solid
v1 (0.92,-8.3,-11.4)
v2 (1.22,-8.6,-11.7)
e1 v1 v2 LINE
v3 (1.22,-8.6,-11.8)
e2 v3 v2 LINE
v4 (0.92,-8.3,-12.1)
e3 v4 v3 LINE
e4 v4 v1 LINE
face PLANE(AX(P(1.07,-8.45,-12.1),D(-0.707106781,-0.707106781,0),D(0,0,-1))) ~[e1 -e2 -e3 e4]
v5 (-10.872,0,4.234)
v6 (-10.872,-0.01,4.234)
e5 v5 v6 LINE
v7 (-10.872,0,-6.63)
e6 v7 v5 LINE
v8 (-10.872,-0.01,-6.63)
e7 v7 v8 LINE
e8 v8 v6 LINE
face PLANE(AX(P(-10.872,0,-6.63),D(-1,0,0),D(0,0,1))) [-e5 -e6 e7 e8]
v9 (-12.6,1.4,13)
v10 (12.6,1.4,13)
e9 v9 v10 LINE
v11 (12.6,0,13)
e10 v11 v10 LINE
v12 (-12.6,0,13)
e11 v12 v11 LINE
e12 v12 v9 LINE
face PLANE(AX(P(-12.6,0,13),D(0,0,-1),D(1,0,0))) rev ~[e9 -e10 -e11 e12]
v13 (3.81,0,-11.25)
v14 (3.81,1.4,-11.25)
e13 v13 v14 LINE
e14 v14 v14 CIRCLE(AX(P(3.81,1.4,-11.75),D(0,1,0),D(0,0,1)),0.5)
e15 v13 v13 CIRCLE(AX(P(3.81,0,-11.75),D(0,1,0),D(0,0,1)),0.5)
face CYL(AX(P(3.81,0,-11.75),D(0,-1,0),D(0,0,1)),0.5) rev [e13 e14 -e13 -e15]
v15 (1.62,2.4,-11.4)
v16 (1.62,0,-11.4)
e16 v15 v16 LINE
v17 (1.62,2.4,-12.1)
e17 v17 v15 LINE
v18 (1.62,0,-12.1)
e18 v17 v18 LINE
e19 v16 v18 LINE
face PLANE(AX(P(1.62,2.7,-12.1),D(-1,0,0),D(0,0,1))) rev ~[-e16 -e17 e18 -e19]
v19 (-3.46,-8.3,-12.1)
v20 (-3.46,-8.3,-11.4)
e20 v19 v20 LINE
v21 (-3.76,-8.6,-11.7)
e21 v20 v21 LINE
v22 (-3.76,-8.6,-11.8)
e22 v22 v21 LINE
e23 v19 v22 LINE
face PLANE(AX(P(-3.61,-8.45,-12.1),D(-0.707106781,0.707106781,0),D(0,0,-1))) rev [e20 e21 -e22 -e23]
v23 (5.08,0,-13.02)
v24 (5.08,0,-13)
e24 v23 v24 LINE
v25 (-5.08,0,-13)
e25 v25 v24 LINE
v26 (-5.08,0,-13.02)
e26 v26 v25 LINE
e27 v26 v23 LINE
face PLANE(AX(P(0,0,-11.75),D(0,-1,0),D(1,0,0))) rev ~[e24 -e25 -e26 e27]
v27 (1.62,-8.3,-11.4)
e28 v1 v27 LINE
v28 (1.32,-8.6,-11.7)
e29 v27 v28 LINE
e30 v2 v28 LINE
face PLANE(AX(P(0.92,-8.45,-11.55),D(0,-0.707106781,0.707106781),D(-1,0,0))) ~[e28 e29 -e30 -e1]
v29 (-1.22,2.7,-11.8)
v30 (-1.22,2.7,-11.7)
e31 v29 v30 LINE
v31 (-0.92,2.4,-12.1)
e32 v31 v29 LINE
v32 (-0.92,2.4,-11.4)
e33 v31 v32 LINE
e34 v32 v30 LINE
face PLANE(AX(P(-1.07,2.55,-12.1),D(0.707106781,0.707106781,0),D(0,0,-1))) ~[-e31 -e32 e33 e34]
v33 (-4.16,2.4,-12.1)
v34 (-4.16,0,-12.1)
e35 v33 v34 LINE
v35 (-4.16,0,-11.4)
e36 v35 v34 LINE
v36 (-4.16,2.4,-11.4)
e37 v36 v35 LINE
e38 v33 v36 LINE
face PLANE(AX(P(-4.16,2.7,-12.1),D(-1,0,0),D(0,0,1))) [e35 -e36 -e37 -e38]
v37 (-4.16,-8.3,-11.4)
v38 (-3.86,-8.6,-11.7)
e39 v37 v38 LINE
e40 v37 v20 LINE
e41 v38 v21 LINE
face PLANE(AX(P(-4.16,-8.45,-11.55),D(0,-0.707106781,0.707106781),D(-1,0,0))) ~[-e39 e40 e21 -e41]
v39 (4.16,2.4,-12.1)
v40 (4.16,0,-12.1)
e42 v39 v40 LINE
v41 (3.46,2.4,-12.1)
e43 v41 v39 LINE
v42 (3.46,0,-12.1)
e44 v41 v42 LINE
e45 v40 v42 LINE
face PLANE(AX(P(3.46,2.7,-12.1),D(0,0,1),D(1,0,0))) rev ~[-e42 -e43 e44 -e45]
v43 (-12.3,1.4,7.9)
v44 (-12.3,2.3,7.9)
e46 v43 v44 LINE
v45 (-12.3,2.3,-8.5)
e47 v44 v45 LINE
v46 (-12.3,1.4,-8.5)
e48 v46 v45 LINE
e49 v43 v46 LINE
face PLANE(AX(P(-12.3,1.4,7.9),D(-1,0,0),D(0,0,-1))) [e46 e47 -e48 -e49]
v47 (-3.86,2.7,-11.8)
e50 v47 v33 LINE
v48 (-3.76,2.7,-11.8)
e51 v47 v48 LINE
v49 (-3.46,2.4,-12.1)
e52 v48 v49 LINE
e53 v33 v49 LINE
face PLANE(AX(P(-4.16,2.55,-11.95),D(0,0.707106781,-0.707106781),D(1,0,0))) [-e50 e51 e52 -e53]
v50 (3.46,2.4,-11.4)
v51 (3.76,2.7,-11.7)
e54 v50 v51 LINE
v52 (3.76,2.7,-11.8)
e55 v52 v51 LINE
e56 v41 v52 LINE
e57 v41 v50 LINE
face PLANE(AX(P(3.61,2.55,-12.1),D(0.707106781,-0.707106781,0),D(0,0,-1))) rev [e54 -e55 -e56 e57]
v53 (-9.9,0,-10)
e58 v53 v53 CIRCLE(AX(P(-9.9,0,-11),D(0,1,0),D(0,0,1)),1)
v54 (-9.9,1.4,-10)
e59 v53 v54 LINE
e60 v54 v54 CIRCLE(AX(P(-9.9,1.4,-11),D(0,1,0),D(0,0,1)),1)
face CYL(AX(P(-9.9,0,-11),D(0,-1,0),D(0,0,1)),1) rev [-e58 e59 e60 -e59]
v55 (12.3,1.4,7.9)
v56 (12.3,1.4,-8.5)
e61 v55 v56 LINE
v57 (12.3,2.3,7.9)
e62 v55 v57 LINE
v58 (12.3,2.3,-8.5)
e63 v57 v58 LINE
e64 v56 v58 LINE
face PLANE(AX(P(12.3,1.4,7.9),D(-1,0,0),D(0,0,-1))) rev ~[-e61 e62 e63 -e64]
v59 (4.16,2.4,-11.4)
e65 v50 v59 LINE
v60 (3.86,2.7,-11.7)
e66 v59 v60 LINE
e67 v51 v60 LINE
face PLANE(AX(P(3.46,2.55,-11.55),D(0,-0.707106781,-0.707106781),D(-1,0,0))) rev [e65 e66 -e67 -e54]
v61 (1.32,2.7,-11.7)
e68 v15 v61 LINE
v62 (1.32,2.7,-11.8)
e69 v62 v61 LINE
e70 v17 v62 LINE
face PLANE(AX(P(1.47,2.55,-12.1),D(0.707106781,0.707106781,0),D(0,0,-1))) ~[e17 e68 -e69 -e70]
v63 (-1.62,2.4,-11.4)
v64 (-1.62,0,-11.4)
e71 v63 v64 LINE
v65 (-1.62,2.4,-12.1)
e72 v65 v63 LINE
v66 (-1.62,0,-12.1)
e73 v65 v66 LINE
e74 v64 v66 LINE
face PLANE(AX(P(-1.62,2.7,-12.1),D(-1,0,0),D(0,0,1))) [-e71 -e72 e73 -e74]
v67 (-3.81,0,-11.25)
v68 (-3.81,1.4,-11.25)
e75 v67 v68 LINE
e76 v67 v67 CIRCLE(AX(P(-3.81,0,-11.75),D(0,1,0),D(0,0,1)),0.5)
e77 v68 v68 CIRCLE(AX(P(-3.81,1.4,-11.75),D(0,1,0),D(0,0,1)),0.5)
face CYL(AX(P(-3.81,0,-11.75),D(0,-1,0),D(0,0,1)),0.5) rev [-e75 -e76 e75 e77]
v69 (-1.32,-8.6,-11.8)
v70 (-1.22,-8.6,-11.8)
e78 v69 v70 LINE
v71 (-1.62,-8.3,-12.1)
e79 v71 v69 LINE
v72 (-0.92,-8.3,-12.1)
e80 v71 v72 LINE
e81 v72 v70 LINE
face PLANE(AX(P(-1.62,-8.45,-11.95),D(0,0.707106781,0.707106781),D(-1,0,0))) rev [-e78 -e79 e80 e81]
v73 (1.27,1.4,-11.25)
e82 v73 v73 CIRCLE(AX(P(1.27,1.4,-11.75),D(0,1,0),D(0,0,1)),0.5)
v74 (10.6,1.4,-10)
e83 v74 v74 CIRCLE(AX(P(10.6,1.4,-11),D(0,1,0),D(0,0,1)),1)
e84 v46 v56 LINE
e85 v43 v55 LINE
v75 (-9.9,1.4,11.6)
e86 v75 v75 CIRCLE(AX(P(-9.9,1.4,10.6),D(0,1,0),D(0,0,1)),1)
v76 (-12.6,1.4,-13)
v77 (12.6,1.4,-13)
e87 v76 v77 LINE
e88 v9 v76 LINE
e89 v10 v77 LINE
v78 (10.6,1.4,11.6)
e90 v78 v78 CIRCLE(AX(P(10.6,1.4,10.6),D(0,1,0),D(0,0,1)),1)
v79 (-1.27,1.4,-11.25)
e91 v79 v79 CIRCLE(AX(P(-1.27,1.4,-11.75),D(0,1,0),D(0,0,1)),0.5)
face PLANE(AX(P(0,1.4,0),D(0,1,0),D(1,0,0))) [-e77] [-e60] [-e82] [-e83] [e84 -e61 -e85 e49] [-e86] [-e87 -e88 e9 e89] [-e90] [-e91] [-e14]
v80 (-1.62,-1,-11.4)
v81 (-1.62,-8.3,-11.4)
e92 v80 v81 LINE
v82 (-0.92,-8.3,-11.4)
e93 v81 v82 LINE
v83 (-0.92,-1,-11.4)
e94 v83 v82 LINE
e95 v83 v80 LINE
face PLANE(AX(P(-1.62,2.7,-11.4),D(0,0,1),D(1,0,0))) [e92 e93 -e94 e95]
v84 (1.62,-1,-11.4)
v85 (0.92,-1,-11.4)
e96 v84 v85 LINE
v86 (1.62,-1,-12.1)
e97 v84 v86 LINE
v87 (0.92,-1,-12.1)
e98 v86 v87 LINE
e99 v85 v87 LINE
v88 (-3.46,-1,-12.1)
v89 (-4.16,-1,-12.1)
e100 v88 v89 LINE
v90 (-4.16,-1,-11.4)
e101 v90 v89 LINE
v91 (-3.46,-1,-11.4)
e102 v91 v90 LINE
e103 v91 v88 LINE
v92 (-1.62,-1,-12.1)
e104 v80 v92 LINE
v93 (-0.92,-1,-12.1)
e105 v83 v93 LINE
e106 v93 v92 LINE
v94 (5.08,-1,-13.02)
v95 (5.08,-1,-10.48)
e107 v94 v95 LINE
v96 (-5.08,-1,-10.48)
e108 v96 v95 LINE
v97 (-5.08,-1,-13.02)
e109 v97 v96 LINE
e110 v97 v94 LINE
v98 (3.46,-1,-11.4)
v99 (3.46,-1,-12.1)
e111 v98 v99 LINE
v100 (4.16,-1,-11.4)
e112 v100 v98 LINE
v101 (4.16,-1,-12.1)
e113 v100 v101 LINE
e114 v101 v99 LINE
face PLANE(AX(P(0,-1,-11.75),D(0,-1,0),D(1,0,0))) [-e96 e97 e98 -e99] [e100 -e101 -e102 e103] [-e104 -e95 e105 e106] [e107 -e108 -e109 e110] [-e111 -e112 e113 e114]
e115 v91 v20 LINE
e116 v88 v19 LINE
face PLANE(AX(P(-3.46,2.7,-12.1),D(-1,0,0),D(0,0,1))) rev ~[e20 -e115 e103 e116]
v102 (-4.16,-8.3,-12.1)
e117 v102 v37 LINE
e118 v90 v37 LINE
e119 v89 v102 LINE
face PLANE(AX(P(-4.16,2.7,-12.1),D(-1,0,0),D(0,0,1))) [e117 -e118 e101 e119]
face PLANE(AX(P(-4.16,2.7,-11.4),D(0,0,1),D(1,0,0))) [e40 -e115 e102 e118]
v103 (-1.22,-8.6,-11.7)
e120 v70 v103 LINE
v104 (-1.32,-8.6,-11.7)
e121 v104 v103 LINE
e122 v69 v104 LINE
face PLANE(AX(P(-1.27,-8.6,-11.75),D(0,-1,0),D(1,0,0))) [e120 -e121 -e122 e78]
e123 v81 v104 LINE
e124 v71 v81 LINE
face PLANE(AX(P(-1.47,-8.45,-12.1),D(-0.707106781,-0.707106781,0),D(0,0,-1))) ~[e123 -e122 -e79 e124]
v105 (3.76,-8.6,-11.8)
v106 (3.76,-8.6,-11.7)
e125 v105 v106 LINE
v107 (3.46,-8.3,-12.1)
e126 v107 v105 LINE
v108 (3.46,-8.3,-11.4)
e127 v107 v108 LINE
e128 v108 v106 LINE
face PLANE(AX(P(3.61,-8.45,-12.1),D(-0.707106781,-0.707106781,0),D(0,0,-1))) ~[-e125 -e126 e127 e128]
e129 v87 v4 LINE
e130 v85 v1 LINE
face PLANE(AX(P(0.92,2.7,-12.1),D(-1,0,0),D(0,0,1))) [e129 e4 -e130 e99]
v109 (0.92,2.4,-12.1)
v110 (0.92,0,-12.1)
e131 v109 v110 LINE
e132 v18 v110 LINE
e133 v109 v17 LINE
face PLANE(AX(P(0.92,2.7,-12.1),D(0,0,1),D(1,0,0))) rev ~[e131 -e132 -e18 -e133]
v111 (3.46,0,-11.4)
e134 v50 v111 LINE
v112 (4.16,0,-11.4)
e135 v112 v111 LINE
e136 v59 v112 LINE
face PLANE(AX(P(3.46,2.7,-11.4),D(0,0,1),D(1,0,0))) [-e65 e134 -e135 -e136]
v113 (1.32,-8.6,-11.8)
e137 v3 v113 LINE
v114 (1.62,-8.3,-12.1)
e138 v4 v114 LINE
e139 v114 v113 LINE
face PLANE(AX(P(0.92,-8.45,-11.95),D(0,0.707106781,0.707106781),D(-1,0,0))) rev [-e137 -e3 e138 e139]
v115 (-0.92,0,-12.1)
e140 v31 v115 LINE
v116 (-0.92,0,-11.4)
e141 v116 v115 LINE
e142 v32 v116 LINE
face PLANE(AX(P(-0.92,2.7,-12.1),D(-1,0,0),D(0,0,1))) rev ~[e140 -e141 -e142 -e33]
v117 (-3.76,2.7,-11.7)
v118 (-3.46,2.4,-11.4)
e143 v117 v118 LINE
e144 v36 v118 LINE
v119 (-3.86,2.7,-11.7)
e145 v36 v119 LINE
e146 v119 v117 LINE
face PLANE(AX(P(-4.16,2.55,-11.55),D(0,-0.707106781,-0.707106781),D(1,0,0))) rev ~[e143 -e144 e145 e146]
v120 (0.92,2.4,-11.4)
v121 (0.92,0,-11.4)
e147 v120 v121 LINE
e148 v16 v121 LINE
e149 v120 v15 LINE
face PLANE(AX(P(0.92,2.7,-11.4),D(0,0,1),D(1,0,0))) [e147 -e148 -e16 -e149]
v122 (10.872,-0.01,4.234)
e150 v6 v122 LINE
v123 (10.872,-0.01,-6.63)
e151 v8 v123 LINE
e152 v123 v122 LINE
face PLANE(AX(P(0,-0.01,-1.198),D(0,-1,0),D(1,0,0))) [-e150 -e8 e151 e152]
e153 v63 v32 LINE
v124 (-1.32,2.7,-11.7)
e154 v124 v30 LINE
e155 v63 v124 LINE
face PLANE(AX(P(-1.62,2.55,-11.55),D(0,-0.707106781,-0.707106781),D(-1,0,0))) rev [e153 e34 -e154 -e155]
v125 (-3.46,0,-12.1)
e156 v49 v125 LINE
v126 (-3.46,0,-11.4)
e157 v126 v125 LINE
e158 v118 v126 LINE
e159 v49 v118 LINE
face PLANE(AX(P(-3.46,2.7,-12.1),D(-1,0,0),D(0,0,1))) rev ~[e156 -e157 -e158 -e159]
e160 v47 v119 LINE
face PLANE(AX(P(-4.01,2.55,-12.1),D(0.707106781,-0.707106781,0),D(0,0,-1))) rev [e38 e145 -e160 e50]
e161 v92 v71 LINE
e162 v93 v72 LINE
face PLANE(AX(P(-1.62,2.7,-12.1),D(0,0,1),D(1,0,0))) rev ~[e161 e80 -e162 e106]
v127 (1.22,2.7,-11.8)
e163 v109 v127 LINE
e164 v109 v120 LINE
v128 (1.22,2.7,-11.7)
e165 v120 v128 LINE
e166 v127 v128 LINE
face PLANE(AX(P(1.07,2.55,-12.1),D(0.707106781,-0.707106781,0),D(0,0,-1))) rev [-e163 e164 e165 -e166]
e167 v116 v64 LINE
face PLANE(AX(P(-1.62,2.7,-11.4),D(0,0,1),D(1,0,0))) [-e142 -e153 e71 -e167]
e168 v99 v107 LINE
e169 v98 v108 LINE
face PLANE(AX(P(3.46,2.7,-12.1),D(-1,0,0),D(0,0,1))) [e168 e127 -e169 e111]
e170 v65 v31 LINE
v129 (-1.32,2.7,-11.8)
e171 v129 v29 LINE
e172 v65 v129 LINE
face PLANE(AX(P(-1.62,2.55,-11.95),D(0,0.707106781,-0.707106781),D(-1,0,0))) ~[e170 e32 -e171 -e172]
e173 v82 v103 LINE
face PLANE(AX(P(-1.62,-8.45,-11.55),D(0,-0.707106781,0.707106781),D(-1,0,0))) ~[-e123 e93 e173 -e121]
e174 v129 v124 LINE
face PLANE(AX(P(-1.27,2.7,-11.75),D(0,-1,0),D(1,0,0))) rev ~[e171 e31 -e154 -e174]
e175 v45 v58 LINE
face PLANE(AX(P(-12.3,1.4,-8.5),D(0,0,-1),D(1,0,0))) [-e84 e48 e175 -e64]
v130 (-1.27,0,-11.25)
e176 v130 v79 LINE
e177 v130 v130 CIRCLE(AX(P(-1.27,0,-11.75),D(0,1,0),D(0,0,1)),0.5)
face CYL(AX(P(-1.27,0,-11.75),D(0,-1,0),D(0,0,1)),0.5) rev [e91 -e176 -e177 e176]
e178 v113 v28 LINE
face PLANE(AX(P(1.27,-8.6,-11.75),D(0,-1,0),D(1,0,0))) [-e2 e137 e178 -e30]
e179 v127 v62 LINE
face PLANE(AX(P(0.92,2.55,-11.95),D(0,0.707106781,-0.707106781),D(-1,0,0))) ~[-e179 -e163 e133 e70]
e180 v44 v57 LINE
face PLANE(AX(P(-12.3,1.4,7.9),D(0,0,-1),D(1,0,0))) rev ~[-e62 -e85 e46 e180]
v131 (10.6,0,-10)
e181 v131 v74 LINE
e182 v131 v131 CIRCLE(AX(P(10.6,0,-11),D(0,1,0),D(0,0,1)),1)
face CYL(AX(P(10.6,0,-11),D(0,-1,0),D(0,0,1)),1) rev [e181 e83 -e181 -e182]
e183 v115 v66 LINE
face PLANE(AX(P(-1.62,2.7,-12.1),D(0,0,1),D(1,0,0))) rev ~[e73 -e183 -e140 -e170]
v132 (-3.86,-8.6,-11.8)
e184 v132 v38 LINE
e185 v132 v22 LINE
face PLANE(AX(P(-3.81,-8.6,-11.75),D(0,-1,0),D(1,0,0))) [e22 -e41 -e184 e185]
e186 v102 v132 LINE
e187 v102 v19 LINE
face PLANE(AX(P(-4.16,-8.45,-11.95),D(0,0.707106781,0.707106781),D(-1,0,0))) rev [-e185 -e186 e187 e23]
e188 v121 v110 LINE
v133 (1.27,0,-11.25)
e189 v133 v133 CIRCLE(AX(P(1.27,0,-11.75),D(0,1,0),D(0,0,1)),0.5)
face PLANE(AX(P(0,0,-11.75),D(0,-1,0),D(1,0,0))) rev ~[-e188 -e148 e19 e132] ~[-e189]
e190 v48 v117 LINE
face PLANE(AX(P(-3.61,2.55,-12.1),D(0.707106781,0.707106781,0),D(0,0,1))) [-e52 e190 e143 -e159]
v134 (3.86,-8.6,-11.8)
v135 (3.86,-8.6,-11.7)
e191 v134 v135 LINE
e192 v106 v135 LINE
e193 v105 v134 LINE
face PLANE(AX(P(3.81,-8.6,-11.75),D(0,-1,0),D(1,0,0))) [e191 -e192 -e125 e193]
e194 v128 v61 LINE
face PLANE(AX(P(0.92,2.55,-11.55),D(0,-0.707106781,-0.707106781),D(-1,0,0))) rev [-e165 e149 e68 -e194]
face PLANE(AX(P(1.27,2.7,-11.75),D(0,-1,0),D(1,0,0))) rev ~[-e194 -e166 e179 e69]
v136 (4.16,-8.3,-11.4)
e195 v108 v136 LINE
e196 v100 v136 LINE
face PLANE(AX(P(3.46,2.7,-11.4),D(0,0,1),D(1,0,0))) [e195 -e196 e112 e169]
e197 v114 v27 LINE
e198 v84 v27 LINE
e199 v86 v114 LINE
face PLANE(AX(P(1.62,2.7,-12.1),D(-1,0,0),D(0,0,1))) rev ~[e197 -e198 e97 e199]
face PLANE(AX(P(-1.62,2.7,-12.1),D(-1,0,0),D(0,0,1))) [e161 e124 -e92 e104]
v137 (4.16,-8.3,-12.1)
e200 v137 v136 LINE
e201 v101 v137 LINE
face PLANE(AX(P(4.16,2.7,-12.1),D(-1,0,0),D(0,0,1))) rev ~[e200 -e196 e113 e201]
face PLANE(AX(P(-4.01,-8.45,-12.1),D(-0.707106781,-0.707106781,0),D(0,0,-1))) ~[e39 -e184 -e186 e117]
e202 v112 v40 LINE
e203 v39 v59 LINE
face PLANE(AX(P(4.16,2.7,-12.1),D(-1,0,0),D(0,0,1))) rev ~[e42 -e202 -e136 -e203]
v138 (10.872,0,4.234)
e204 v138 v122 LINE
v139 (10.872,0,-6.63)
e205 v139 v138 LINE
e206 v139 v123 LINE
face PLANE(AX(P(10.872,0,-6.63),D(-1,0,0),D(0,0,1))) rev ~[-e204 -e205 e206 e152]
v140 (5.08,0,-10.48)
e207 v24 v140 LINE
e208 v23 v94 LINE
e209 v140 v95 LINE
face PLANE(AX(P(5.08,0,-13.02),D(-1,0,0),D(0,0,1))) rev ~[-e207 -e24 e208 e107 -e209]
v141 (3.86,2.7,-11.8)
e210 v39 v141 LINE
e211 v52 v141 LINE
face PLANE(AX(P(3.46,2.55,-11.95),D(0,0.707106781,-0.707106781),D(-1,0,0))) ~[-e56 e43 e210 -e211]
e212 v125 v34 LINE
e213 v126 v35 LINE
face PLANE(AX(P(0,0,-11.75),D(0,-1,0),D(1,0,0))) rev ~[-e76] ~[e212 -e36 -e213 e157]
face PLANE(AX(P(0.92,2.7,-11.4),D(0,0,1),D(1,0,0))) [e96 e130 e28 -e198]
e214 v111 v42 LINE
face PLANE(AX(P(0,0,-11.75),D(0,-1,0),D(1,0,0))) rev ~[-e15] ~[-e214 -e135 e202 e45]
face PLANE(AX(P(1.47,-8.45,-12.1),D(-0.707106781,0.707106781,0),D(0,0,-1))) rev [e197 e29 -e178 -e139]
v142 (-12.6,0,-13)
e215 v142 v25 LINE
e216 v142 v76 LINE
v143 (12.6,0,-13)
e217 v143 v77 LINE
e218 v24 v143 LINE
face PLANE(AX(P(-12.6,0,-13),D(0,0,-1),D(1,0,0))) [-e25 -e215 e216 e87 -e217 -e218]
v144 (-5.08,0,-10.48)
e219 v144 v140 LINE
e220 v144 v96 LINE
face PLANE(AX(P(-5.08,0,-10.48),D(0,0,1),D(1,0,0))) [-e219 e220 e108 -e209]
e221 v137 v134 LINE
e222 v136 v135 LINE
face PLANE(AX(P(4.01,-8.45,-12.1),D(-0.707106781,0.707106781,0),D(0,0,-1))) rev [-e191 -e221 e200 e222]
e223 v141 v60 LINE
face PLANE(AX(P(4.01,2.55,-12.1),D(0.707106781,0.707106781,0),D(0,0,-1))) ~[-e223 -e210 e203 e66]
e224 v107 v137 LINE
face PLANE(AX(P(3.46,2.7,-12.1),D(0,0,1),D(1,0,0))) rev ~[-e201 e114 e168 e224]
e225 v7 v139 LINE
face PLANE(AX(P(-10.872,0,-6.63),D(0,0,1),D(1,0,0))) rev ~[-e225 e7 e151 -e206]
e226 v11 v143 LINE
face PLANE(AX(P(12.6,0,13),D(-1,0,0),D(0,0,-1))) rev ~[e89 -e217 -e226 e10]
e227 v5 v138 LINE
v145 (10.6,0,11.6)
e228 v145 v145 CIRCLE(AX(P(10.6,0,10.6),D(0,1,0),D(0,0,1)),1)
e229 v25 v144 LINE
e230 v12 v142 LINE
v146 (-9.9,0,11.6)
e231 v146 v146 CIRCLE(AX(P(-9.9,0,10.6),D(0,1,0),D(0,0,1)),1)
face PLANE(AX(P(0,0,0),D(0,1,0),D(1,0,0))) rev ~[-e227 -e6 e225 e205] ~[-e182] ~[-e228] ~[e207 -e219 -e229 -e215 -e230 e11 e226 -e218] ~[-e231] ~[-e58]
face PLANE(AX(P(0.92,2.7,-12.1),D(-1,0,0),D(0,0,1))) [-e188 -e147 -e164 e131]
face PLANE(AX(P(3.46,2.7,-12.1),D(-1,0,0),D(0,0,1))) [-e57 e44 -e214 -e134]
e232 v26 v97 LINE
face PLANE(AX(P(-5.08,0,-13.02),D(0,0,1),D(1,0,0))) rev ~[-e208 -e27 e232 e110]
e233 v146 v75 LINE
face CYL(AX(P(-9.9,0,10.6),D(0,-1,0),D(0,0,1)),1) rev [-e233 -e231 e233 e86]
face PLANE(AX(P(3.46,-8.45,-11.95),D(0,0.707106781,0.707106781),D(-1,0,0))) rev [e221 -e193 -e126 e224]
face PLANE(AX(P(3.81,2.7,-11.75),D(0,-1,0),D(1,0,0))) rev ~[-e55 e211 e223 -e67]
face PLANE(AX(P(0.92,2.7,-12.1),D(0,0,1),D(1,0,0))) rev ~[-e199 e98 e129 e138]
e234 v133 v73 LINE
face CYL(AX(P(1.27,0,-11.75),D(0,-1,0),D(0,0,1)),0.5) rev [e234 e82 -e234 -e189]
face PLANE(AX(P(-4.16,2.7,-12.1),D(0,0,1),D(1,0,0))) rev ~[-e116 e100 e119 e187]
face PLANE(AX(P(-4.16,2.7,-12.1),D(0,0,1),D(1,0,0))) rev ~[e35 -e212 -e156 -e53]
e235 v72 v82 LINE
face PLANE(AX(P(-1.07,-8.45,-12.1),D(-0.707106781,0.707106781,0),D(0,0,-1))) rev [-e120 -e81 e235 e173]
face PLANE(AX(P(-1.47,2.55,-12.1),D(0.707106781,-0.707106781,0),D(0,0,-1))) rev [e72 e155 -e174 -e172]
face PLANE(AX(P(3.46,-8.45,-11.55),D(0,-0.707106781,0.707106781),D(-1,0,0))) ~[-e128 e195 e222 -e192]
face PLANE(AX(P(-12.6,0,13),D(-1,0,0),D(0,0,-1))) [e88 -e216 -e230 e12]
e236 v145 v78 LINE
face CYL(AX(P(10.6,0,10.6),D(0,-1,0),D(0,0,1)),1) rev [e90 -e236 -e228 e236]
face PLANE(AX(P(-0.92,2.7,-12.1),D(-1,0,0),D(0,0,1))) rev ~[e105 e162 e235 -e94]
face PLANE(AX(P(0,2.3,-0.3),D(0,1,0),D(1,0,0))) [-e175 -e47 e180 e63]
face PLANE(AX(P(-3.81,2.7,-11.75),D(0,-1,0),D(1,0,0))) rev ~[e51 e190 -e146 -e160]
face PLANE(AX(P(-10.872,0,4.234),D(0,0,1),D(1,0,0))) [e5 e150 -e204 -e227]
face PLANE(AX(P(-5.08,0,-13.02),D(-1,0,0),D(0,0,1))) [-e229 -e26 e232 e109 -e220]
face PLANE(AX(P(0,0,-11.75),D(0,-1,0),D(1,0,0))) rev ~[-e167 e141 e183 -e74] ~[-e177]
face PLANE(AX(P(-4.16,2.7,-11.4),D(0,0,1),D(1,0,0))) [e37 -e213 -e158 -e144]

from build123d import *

# Parameters (mm, degrees)
SKETCH1_W                = 25.2
SKETCH1_H                = 26
SKETCH1_R                = 1
SKETCH1_R_2              = 0.5
BOSS_EXTRUDE1_DEPTH      = 1.4
SKETCH2_W                = 24.6
SKETCH2_H                = 16.4
BOSS_EXTRUDE2_DEPTH      = 0.9
SKETCH3_W                = 10.16
SKETCH3_H                = 2.54
BOSS_EXTRUDE3_DEPTH      = 1
BOSS_EXTRUDE4_DEPTH      = 8.6
BOSS_EXTRUDE4_DEPTH_BACK = 2.7
SKETCH4_W                = 0.7
SKETCH4_H                = 0.7
CHAMFER1_SIZE            = 0.3
SKETCH5_W                = 21.744
SKETCH5_H                = 10.864
BOSS_EXTRUDE5_DEPTH      = 0.01


with BuildPart() as part:
    # Sketch1 → Boss-Extrude1 (new body)
    with BuildSketch(Plane(origin=(0, 0, 0), x_dir=(1, 0, 0), z_dir=(0, 1, 0))):
        Rectangle(SKETCH1_W, SKETCH1_H)
        with Locations(Location((-9.9, 11, 0), (0, 0, 270))):
            Circle(SKETCH1_R, mode=Mode.SUBTRACT)
        with Locations(Location((10.6, 11, 0), (0, 0, 270))):
            Circle(SKETCH1_R, mode=Mode.SUBTRACT)
        with Locations(Location((-9.9, -10.6, 0), (0, 0, 270))):
            Circle(SKETCH1_R, mode=Mode.SUBTRACT)
        with Locations(Location((10.6, -10.6, 0), (0, 0, 270))):
            Circle(SKETCH1_R, mode=Mode.SUBTRACT)
        with Locations(Location((-3.81, 11.75, 0), (0, 0, 270))):
            Circle(SKETCH1_R_2, mode=Mode.SUBTRACT)
        with Locations(Location((-1.27, 11.75, 0), (0, 0, 270))):
            Circle(SKETCH1_R_2, mode=Mode.SUBTRACT)
        with Locations(Location((1.27, 11.75, 0), (0, 0, 270))):
            Circle(SKETCH1_R_2, mode=Mode.SUBTRACT)
        with Locations(Location((3.81, 11.75, 0), (0, 0, 270))):
            Circle(SKETCH1_R_2, mode=Mode.SUBTRACT)
    extrude(amount=BOSS_EXTRUDE1_DEPTH)

    # Sketch2 → Boss-Extrude2 (add)
    with BuildSketch(Plane(origin=(0, 1.4, 0), x_dir=(1, 0, 0), z_dir=(0, 1, 0))):
        with Locations((0, 0.3)):
            Rectangle(SKETCH2_W, SKETCH2_H)
    extrude(amount=BOSS_EXTRUDE2_DEPTH)

    # Sketch3 → Boss-Extrude3 (add)
    with BuildSketch(Plane.XZ):
        with Locations((0, -11.75)):
            Rectangle(SKETCH3_W, SKETCH3_H)
    extrude(amount=BOSS_EXTRUDE3_DEPTH)

    # Sketch4 → Boss-Extrude4 (add, two sides: drawn at the far end of the back side and taken through both)
    with BuildSketch(Plane.XZ.offset(-BOSS_EXTRUDE4_DEPTH_BACK)):
        with Locations((-3.81, -11.75)):
            Rectangle(SKETCH4_W, SKETCH4_H)
        with Locations((-1.27, -11.75)):
            Rectangle(SKETCH4_W, SKETCH4_H)
        with Locations((1.27, -11.75)):
            Rectangle(SKETCH4_W, SKETCH4_H)
        with Locations((3.81, -11.75)):
            Rectangle(SKETCH4_W, SKETCH4_H)
    extrude(amount=BOSS_EXTRUDE4_DEPTH + BOSS_EXTRUDE4_DEPTH_BACK)

    # Chamfer1
    chamfer1_edges = [part.edges().sort_by_distance(p)[0] for p in [
        (-0.92, 2.7, -11.75),
        (-1.27, 2.7, -12.1),
        (-1.62, 2.7, -11.75),
        (-1.27, 2.7, -11.4),
        (-0.92, -8.6, -11.75),
        (-1.27, -8.6, -11.4),
        (-1.62, -8.6, -11.75),
        (-1.27, -8.6, -12.1),
        (1.62, 2.7, -11.75),
        (1.27, 2.7, -12.1),
        (0.92, 2.7, -11.75),
        (1.27, 2.7, -11.4),
        (1.62, -8.6, -11.75),
        (1.27, -8.6, -11.4),
        (0.92, -8.6, -11.75),
        (1.27, -8.6, -12.1),
        (4.16, 2.7, -11.75),
        (3.81, 2.7, -12.1),
        (3.46, 2.7, -11.75),
        (3.81, 2.7, -11.4),
        (4.16, -8.6, -11.75),
        (3.81, -8.6, -11.4),
        (3.46, -8.6, -11.75),
        (3.81, -8.6, -12.1),
        (-3.46, 2.7, -11.75),
        (-3.81, 2.7, -12.1),
        (-4.16, 2.7, -11.75),
        (-3.81, 2.7, -11.4),
        (-3.46, -8.6, -11.75),
        (-3.81, -8.6, -11.4),
        (-4.16, -8.6, -11.75),
        (-3.81, -8.6, -12.1),
    ]]
    chamfer(chamfer1_edges, length=CHAMFER1_SIZE)

    # Sketch5 → Boss-Extrude5 (add)
    with BuildSketch(Plane.XZ):
        with Locations((0, -1.198)):
            Rectangle(SKETCH5_W, SKETCH5_H)
    extrude(amount=BOSS_EXTRUDE5_DEPTH)


solid = part.part
